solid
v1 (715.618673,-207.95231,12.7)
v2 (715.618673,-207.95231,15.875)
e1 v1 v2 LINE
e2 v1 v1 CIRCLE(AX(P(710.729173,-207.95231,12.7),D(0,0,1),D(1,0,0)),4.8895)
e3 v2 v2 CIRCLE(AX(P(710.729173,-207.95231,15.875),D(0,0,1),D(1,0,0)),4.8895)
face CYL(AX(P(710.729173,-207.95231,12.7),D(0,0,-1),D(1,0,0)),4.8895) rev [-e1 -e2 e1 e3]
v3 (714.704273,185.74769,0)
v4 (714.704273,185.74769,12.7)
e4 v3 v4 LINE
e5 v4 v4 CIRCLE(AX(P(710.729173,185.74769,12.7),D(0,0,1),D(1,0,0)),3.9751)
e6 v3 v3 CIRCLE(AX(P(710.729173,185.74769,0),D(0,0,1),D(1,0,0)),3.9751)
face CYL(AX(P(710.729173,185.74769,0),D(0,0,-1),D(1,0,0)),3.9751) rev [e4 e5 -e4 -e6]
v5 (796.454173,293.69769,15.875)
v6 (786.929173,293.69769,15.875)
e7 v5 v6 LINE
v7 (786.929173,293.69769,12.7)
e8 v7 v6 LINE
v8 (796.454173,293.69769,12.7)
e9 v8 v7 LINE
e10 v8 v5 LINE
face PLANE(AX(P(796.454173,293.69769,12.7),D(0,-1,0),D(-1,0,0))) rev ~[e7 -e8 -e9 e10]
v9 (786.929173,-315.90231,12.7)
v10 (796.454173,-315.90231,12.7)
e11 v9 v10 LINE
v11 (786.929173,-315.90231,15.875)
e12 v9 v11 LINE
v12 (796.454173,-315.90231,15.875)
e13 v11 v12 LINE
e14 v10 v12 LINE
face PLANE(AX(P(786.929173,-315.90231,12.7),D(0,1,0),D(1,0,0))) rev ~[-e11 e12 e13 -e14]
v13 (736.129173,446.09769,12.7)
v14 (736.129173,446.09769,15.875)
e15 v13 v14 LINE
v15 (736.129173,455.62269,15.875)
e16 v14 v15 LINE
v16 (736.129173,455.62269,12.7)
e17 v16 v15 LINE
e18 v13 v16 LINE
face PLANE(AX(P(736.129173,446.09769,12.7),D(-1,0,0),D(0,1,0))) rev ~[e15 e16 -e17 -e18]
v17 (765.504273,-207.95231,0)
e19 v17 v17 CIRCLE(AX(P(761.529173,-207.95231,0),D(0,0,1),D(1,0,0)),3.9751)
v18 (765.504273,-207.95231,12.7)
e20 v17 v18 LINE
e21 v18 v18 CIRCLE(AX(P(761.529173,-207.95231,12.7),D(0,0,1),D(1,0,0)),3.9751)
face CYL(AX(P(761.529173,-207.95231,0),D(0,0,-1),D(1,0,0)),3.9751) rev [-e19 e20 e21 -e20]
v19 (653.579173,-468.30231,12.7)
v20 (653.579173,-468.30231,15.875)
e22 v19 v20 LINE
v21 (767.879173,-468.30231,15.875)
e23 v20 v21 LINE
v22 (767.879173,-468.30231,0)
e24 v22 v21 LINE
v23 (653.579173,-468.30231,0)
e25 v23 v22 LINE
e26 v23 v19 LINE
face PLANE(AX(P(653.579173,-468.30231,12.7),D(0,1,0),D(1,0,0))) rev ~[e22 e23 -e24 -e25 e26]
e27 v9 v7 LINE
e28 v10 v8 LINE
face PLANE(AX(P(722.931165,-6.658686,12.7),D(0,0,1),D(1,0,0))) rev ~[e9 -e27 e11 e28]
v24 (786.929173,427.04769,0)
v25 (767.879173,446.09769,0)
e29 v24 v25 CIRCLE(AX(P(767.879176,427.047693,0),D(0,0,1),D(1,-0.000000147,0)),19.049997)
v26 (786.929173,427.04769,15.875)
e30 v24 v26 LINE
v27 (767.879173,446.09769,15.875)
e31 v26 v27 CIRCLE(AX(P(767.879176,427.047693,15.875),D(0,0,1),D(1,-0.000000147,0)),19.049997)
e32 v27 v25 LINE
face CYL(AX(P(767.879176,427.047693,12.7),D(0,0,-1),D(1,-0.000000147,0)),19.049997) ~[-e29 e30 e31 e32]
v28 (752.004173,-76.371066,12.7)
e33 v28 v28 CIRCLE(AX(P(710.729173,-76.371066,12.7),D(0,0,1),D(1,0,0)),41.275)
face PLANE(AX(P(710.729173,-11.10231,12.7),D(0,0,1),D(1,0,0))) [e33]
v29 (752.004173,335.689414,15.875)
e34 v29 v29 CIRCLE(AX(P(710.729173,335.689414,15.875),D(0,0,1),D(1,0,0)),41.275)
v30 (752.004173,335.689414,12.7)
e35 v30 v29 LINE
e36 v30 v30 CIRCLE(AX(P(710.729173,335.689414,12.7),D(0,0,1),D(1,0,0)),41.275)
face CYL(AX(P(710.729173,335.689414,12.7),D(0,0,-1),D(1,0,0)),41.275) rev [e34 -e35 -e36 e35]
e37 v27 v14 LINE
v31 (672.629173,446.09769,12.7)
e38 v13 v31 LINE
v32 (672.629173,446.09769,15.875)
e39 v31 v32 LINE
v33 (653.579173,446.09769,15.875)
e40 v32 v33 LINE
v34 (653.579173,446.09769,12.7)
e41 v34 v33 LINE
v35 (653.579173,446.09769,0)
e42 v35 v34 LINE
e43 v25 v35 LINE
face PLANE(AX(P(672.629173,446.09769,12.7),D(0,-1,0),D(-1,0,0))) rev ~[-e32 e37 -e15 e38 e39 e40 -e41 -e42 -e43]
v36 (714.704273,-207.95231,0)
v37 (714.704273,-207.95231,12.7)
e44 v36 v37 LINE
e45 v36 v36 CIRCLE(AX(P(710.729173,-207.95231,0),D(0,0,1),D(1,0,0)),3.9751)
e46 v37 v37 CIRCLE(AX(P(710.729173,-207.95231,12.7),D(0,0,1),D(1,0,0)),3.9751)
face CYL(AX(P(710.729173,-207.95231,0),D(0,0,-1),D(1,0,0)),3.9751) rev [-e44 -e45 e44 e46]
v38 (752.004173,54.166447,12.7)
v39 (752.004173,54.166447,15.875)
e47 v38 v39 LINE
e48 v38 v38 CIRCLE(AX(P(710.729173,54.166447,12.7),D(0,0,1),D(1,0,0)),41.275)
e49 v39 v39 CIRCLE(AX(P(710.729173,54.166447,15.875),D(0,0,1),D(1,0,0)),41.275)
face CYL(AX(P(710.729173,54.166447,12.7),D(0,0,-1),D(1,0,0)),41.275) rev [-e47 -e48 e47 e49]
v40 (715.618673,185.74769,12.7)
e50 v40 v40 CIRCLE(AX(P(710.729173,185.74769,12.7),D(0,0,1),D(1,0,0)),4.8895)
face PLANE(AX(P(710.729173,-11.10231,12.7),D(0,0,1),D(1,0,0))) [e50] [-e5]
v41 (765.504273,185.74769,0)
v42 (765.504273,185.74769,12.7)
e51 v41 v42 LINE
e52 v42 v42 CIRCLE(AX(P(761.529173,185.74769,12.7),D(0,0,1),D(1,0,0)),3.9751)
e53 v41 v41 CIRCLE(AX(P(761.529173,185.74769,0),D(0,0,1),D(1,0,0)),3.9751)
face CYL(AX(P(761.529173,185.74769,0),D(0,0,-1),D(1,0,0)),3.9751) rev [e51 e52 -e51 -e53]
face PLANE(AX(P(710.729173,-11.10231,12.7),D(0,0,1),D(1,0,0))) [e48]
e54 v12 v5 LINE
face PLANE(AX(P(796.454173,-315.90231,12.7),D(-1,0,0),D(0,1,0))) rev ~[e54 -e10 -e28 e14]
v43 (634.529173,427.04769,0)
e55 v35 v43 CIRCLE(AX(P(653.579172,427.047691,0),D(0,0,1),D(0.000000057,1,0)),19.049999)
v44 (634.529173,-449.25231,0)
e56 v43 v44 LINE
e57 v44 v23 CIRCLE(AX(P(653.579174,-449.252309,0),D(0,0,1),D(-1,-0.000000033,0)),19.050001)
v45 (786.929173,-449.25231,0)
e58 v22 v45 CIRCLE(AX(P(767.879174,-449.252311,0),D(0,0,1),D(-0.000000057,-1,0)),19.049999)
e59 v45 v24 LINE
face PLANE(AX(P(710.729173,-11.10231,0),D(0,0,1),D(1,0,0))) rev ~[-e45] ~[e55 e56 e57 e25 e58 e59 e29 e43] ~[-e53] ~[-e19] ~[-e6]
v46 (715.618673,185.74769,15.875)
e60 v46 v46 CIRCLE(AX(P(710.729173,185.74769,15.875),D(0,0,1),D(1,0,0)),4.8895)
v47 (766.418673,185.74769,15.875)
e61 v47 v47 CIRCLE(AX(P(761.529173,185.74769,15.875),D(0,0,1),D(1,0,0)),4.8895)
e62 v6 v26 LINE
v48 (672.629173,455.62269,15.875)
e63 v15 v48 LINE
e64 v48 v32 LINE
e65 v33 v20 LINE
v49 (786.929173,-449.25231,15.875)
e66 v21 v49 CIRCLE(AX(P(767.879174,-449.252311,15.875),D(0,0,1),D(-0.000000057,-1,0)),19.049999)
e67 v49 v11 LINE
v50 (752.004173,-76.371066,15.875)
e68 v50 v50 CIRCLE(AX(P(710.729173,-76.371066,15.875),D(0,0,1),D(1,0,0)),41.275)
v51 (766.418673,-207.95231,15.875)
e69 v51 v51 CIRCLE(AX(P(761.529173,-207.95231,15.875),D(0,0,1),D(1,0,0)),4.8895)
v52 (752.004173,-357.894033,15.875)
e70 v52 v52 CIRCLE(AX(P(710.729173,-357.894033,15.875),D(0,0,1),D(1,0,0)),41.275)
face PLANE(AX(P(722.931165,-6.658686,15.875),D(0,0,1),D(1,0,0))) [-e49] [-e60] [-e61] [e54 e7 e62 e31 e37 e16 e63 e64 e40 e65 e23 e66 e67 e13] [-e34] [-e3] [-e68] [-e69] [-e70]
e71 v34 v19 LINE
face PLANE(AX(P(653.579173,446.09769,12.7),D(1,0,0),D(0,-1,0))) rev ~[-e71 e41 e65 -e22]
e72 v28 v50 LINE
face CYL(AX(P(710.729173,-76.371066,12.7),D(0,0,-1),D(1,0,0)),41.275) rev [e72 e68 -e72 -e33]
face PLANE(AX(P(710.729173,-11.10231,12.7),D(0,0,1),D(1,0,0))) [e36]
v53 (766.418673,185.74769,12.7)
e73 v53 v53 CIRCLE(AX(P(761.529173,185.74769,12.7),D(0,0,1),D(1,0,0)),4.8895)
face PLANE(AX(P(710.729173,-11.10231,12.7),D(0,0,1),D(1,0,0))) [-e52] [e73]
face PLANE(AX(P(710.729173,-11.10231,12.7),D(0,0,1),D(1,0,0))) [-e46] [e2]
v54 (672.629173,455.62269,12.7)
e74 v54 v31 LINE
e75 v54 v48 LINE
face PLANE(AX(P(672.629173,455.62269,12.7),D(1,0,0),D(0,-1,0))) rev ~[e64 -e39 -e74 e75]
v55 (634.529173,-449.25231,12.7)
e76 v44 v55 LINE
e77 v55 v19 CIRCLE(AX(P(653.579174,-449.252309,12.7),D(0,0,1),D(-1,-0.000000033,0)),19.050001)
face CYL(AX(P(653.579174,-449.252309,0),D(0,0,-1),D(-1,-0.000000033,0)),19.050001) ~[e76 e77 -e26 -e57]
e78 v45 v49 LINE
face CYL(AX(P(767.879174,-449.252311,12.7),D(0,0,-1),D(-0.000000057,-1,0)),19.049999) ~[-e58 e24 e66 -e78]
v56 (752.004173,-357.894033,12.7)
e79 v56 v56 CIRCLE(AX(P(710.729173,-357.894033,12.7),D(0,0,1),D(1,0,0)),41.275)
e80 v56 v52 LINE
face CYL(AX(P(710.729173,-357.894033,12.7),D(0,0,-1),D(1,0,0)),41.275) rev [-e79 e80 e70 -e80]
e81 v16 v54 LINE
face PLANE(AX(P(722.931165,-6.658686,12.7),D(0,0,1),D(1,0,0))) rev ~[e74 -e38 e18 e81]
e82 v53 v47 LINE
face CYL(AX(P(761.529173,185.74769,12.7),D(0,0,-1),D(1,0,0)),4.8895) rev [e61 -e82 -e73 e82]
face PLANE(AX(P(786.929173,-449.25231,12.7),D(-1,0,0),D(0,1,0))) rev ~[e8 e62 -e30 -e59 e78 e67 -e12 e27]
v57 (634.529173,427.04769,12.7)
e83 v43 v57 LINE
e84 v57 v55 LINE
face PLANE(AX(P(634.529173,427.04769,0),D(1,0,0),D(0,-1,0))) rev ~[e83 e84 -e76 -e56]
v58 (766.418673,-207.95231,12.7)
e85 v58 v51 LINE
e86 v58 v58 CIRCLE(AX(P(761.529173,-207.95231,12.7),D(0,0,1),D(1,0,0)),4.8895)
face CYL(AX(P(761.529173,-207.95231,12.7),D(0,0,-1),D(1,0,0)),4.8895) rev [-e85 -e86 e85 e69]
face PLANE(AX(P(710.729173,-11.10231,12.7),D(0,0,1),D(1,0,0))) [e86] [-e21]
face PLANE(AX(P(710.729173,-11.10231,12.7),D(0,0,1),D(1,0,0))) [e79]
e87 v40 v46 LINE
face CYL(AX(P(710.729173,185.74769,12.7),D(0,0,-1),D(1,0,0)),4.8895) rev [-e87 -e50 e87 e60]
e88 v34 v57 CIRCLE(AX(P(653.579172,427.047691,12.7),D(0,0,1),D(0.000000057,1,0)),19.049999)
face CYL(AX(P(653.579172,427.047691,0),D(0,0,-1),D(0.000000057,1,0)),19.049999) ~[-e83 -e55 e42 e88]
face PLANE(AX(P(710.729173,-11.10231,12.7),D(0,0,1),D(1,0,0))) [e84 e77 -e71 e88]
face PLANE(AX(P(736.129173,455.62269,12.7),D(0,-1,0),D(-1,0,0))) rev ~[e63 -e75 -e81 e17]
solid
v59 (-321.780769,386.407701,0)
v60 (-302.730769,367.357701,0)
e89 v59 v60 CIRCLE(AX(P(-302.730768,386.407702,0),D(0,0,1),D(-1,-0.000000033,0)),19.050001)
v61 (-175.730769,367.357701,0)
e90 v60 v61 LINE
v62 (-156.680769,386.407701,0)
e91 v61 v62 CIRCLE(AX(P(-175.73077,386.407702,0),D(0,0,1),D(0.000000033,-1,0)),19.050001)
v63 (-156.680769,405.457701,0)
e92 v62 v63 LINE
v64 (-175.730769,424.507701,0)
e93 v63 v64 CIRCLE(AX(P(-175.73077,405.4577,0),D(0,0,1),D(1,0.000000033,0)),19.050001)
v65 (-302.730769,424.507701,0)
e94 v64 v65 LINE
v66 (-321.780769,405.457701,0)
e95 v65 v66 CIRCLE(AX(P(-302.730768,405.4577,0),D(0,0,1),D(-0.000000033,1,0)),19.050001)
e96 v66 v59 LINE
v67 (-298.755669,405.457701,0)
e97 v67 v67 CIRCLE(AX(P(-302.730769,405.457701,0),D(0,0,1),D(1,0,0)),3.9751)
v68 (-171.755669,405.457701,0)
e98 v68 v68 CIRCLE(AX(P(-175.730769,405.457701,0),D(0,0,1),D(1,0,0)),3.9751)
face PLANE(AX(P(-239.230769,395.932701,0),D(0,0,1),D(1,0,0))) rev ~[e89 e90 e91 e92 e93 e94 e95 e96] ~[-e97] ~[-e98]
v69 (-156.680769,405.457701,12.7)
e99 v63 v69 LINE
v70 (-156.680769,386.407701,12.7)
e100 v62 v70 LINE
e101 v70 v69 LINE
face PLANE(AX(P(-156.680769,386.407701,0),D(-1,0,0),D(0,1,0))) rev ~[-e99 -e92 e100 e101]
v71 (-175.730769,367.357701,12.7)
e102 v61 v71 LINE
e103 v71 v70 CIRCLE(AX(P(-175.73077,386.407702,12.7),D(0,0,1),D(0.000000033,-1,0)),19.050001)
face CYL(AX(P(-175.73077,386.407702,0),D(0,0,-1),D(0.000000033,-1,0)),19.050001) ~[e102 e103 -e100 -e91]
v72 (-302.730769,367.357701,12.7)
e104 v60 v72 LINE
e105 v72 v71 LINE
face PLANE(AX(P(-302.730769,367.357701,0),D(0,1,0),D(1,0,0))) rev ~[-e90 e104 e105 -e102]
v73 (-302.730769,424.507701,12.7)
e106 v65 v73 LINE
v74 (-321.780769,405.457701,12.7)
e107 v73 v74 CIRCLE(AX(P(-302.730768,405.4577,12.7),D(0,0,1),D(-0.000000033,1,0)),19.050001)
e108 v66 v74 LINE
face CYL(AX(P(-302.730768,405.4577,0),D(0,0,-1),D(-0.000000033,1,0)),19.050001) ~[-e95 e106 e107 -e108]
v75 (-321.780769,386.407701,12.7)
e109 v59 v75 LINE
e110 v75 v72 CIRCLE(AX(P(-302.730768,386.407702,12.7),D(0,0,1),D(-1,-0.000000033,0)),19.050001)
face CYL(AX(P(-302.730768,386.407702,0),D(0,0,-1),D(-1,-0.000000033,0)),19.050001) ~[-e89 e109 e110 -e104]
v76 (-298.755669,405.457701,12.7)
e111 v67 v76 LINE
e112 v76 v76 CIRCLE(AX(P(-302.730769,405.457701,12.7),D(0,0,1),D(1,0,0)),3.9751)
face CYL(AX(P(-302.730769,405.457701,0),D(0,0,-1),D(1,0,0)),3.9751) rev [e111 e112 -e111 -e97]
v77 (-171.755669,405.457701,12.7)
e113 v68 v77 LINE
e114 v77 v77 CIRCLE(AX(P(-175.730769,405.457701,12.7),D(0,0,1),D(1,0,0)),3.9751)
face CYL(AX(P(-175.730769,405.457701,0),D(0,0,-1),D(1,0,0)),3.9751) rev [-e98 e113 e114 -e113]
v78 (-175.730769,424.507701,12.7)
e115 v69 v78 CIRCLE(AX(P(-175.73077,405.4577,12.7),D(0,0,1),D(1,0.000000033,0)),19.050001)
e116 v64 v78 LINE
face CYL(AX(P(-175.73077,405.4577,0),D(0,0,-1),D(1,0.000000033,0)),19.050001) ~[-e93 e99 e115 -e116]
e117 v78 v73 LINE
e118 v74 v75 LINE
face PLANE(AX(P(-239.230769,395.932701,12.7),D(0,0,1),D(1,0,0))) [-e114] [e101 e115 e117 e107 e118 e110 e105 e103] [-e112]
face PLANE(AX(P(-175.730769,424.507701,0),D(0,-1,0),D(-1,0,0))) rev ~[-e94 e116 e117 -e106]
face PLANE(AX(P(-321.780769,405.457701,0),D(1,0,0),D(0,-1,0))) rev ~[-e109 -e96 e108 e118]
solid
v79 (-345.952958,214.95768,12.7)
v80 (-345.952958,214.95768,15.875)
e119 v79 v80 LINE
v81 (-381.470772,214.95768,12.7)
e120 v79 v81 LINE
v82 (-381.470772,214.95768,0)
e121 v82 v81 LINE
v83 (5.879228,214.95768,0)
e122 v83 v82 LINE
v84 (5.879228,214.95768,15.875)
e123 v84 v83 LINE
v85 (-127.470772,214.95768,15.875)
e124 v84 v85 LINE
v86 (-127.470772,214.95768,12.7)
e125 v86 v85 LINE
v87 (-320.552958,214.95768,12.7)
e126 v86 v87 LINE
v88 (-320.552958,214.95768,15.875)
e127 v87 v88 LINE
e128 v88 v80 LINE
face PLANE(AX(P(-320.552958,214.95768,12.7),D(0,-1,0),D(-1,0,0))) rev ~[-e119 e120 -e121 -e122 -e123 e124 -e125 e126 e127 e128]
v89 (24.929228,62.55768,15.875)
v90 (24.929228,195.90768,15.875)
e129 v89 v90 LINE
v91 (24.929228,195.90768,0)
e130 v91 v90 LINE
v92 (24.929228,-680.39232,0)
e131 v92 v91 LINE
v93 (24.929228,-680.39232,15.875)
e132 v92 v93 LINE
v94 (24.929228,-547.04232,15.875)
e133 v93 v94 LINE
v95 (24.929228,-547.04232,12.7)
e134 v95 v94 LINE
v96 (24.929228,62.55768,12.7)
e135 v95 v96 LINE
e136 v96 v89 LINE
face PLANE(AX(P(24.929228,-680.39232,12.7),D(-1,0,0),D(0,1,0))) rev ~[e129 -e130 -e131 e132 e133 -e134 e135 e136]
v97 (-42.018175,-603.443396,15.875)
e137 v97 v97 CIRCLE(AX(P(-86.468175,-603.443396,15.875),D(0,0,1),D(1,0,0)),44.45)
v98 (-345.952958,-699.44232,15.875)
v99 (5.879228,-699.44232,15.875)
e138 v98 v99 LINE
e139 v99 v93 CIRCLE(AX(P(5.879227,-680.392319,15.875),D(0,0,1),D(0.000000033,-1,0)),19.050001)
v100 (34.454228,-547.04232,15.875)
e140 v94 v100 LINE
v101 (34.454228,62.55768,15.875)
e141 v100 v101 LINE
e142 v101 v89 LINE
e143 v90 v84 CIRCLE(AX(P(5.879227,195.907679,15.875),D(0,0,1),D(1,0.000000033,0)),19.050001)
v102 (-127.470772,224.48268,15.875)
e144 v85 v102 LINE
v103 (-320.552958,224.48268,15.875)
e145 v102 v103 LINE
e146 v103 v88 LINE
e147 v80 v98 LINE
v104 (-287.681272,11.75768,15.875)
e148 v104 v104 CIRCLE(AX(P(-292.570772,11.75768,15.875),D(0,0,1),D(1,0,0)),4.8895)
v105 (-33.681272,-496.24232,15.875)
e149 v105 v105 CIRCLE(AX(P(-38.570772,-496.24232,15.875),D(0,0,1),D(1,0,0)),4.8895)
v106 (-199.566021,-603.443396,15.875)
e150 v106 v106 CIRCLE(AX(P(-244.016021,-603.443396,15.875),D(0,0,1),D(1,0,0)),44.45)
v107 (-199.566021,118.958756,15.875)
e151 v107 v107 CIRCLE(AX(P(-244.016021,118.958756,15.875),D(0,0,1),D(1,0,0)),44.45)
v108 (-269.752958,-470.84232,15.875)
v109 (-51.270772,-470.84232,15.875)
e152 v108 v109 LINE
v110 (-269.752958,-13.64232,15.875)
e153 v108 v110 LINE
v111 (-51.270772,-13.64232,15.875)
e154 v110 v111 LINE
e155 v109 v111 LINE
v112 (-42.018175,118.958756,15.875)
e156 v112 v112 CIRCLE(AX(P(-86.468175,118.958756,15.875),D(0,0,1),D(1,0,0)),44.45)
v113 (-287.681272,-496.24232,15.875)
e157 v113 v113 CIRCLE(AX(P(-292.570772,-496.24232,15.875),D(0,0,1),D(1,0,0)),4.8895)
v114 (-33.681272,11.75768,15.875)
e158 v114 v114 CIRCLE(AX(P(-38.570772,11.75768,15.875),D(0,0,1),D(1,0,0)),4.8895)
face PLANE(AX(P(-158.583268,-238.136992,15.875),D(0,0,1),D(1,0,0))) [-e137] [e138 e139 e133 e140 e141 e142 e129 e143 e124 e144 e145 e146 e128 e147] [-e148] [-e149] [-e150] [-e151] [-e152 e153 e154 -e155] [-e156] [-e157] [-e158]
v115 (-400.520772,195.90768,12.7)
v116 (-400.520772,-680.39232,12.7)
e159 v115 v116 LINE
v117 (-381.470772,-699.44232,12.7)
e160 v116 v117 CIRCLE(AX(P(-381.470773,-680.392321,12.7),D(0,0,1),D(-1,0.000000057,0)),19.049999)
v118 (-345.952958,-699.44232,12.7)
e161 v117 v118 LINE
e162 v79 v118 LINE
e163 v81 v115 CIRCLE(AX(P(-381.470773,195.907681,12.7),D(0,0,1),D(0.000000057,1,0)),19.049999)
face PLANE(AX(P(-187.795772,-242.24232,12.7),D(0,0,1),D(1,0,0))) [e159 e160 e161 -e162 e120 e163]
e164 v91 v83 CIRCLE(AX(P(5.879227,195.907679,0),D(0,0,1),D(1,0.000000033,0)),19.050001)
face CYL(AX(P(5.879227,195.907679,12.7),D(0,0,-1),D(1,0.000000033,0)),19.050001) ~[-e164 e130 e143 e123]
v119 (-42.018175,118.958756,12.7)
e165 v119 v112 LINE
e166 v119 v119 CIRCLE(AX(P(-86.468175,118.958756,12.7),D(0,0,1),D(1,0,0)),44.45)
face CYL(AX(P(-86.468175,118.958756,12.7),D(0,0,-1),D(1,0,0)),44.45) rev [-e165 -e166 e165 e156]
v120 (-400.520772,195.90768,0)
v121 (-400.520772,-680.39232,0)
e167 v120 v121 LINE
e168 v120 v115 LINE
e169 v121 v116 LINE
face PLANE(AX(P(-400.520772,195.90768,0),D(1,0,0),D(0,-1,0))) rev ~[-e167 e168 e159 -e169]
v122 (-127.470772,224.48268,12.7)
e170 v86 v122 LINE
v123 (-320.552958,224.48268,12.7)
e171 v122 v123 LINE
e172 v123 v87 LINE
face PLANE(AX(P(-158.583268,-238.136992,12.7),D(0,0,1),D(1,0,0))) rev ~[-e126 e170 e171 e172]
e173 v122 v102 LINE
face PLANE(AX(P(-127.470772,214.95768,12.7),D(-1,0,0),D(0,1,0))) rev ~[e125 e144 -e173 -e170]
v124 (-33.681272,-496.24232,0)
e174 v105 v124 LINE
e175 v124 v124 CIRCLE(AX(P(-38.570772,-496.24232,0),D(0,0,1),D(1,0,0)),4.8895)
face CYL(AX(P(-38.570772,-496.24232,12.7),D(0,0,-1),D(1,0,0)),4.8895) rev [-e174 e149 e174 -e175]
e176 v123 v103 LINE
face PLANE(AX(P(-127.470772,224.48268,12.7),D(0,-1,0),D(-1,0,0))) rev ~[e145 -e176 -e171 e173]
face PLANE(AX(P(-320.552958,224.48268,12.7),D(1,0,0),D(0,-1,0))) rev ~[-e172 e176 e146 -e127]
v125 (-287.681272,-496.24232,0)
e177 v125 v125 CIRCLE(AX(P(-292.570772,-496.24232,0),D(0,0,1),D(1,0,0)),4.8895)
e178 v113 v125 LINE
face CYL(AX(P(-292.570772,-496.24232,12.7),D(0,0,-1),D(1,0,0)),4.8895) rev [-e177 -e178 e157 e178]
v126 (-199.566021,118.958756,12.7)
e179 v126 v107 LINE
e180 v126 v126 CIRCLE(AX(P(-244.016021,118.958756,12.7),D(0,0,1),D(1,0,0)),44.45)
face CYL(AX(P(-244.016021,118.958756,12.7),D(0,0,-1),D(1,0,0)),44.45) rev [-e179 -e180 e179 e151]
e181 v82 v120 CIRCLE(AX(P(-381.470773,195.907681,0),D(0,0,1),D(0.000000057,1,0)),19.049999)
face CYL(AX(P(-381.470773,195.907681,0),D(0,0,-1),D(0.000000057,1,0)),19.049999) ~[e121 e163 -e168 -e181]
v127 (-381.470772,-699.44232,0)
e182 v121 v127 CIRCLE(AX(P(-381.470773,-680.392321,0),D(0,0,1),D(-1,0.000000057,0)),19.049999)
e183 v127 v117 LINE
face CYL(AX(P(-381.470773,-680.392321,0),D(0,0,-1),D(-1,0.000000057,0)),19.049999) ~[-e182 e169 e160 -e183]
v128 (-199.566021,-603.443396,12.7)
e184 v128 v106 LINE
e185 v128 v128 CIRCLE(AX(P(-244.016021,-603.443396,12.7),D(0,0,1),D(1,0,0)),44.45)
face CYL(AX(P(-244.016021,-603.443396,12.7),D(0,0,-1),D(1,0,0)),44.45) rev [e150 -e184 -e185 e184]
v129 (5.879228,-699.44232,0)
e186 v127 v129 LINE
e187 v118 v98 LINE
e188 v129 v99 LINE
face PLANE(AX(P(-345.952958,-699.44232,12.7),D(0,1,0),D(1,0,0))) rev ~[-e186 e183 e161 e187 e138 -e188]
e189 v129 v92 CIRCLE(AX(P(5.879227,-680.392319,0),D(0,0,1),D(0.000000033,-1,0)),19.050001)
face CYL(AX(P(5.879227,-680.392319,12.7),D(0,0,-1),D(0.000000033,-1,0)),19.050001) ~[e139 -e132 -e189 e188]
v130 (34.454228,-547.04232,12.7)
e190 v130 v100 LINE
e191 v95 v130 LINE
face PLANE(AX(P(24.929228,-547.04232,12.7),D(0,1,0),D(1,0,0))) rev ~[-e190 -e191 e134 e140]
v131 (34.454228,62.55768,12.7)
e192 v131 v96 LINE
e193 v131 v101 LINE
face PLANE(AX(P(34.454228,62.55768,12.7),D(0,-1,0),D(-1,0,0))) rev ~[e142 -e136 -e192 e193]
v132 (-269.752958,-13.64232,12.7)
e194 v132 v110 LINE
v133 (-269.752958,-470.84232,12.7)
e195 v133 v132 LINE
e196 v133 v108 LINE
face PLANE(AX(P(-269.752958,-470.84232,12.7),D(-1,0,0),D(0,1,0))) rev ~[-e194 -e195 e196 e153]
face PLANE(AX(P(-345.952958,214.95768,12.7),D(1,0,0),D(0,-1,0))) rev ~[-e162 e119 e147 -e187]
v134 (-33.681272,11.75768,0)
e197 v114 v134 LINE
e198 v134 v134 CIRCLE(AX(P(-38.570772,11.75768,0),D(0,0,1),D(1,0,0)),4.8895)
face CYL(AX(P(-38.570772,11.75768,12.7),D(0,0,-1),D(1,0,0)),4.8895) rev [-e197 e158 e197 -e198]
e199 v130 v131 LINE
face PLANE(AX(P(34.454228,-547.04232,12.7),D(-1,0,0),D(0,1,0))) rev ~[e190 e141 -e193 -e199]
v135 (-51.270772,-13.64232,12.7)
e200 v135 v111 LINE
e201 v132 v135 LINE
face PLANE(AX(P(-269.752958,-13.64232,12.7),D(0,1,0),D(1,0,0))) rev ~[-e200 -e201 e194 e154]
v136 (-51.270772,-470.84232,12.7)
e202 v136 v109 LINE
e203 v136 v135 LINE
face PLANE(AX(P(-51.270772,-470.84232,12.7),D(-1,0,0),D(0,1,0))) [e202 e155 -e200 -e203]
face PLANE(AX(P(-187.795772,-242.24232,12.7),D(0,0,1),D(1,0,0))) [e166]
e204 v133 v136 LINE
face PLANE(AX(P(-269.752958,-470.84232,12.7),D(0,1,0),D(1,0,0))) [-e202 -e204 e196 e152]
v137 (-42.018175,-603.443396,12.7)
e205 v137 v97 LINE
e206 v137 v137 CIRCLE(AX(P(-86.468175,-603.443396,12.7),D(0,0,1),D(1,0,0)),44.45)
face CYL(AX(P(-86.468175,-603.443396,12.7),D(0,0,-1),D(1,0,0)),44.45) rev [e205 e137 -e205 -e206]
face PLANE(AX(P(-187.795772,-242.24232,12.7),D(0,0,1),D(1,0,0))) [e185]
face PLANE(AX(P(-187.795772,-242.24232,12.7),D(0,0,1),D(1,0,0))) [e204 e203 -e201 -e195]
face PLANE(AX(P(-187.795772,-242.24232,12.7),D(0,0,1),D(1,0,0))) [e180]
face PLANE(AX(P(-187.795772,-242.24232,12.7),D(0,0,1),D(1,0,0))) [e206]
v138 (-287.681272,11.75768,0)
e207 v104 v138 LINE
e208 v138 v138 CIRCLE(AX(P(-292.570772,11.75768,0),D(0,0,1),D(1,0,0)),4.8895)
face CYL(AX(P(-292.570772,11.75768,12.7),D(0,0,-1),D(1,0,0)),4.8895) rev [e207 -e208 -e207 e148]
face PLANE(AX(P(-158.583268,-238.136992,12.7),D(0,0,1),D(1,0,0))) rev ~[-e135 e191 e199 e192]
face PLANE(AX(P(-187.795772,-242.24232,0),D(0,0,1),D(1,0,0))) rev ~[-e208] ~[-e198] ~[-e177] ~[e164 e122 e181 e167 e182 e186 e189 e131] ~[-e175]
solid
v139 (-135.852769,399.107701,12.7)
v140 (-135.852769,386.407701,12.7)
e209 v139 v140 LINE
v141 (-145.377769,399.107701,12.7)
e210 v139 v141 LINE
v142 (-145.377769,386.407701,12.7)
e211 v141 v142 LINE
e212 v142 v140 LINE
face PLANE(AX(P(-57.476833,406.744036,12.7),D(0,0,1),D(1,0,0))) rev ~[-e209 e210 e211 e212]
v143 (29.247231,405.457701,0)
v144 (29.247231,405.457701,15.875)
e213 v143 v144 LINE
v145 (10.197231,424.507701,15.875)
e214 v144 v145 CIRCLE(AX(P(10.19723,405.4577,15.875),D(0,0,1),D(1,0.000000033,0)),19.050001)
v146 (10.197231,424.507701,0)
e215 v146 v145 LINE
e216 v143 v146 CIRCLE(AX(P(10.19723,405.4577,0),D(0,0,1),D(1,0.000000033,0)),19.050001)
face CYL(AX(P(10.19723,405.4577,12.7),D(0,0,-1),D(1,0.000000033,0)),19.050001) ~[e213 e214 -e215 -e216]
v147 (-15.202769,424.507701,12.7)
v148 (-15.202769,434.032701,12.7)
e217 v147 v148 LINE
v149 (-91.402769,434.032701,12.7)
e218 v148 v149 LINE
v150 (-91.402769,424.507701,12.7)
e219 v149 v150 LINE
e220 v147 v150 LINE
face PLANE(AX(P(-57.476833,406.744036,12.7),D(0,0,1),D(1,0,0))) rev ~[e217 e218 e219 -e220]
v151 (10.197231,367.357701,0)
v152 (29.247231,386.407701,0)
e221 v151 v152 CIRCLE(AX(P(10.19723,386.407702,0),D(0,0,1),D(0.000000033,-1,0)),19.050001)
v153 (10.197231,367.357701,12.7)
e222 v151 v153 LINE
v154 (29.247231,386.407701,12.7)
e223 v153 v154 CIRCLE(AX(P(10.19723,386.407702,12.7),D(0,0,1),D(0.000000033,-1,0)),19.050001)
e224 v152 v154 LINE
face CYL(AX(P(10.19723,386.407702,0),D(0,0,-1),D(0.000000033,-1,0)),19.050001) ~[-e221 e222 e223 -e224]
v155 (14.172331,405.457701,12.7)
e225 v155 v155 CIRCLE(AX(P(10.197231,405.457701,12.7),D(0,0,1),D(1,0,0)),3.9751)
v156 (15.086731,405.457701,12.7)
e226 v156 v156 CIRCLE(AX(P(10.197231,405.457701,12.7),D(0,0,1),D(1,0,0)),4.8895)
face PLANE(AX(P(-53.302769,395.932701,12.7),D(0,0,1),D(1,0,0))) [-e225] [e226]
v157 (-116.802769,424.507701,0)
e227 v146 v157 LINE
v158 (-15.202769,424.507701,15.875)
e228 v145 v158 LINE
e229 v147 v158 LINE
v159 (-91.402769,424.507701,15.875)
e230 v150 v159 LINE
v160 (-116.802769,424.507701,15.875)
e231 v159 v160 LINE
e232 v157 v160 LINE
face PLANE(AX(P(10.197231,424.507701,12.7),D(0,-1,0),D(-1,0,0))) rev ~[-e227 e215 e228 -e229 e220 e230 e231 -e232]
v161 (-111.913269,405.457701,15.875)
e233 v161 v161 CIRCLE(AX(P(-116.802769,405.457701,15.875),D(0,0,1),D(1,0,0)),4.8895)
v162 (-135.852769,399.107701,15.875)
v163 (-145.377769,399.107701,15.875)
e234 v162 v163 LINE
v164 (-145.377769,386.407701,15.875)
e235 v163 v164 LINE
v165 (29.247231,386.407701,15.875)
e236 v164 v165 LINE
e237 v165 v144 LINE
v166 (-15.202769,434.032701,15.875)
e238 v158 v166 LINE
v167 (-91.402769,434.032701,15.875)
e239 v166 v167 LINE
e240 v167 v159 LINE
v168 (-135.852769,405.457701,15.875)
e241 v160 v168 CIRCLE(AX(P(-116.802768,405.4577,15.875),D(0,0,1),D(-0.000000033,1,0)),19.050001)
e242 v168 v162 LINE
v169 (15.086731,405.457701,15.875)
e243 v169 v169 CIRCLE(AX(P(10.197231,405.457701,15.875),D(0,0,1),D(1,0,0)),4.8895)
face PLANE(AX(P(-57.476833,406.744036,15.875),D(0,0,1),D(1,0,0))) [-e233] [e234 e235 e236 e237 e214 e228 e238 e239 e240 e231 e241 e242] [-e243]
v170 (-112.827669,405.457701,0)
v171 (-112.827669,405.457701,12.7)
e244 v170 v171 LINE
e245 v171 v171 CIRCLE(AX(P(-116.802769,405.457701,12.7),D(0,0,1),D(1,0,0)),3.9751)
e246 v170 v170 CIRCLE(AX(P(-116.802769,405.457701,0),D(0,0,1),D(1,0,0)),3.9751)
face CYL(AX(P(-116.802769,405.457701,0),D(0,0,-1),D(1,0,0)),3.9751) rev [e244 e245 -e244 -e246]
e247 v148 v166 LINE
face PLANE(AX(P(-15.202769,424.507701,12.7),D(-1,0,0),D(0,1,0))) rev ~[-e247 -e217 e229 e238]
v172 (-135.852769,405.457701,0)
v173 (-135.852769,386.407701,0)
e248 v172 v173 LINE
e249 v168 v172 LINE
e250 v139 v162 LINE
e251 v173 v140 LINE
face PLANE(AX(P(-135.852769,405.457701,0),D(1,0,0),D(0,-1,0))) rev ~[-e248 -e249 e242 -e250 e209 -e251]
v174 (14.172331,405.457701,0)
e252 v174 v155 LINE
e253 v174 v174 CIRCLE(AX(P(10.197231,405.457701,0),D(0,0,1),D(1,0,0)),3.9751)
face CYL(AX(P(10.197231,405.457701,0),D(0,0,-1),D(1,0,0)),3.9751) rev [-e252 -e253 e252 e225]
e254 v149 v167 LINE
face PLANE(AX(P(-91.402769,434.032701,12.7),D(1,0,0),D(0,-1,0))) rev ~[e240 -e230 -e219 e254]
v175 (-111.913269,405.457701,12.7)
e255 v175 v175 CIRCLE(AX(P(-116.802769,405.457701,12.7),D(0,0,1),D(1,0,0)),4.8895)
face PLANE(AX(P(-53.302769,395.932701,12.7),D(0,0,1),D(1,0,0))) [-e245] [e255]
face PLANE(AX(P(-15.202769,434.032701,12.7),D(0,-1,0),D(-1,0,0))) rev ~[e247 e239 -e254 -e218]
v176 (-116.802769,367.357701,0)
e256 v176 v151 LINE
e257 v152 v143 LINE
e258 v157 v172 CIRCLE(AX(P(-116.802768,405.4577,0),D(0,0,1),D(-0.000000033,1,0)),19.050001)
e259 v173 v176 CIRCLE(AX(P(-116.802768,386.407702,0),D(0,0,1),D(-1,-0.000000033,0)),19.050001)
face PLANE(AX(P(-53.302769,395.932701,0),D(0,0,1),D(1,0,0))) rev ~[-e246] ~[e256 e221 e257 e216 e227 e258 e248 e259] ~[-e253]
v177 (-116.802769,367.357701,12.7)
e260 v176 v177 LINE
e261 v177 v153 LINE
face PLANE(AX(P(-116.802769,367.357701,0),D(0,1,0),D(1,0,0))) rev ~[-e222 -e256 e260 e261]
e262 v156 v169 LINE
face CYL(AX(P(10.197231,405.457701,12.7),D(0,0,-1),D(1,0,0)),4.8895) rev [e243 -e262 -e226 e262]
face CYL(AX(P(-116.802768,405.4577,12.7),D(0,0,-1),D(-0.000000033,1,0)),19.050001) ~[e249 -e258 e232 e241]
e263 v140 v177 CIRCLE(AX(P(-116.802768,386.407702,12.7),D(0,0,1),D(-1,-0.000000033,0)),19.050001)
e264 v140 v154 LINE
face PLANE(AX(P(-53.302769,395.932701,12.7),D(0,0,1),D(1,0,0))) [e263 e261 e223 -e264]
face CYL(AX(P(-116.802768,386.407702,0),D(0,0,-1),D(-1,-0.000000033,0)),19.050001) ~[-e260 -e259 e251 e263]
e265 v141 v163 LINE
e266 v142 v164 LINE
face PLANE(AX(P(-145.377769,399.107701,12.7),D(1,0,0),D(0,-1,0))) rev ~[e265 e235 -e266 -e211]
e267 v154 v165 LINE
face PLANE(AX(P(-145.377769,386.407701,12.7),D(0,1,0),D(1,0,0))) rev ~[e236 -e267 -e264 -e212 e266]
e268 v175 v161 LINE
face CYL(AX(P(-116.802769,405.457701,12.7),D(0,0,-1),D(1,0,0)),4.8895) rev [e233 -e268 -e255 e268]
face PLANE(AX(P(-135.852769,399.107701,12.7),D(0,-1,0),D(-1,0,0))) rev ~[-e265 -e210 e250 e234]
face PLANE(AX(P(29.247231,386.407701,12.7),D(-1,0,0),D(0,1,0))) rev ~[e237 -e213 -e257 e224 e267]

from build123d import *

# Parameters (mm, degrees)
F0_R     = 4.8895
F0_R_2   = 3.9751
F1_DEPTH = 12.7
F2_R     = 4.8895
F2_R_2   = 44.45
F2_W     = 218.482186
F2_H     = 457.2
F3_DEPTH = 3.175
F4_R     = 41.275
F4_R_2   = 4.8895
F5_DEPTH = 3.175
F6_R     = 4.8895
F7_DEPTH = 3.175


with BuildPart() as f1:
    # F0 (on Top) → F1 (new body)
    with BuildSketch(Plane.XY):
        with BuildLine():
            ThreePointArc((-400.520772, -680.39232), (-394.941157, -693.862704), (-381.470772, -699.44232))
            Line((-381.470772, -699.44232), (5.879228, -699.44232))
            ThreePointArc((5.879228, -699.44232), (19.349612, -693.862704), (24.929228, -680.39232))
            Line((24.929228, -680.39232), (24.929228, 195.90768))
            ThreePointArc((24.929228, 195.90768), (19.349612, 209.378064), (5.879228, 214.95768))
            Line((5.879228, 214.95768), (-381.470772, 214.95768))
            ThreePointArc((-381.470772, 214.95768), (-394.941157, 209.378064), (-400.520772, 195.90768))
            Line((-400.520772, 195.90768), (-400.520772, -680.39232))
        make_face()
        with Locations((-292.570772, -496.24232)):
            Circle(F0_R, mode=Mode.SUBTRACT)
        with Locations((-38.570772, -496.24232)):
            Circle(F0_R, mode=Mode.SUBTRACT)
        with Locations((-292.570772, 11.75768)):
            Circle(F0_R, mode=Mode.SUBTRACT)
        with Locations((-38.570772, 11.75768)):
            Circle(F0_R, mode=Mode.SUBTRACT)
        with BuildLine():
            ThreePointArc((634.529173, -449.25231), (640.108789, -462.722694), (653.579173, -468.30231))
            Line((653.579173, -468.30231), (767.879173, -468.30231))
            ThreePointArc((767.879173, -468.30231), (781.349558, -462.722694), (786.929173, -449.25231))
            Line((786.929173, -449.25231), (786.929173, 427.04769))
            ThreePointArc((786.929173, 427.04769), (781.349558, 440.518075), (767.879173, 446.09769))
            Line((767.879173, 446.09769), (653.579173, 446.09769))
            ThreePointArc((653.579173, 446.09769), (640.108789, 440.518075), (634.529173, 427.04769))
            Line((634.529173, 427.04769), (634.529173, -449.25231))
        make_face()
        with Locations((710.729173, -207.95231)):
            Circle(F0_R_2, mode=Mode.SUBTRACT)
        with Locations((761.529173, -207.95231)):
            Circle(F0_R_2, mode=Mode.SUBTRACT)
        with Locations((710.729173, 185.74769)):
            Circle(F0_R_2, mode=Mode.SUBTRACT)
        with Locations((761.529173, 185.74769)):
            Circle(F0_R_2, mode=Mode.SUBTRACT)
        with BuildLine():
            ThreePointArc((-321.780769, 386.407701), (-316.201153, 372.937317), (-302.730769, 367.357701))
            Line((-302.730769, 367.357701), (-175.730769, 367.357701))
            ThreePointArc((-175.730769, 367.357701), (-162.260385, 372.937317), (-156.680769, 386.407701))
            Line((-156.680769, 386.407701), (-156.680769, 405.457701))
            ThreePointArc((-156.680769, 405.457701), (-162.260385, 418.928085), (-175.730769, 424.507701))
            Line((-175.730769, 424.507701), (-302.730769, 424.507701))
            ThreePointArc((-302.730769, 424.507701), (-316.201153, 418.928085), (-321.780769, 405.457701))
            Line((-321.780769, 405.457701), (-321.780769, 386.407701))
        make_face()
        with Locations((-302.730769, 405.457701)):
            Circle(F0_R_2, mode=Mode.SUBTRACT)
        with Locations((-175.730769, 405.457701)):
            Circle(F0_R_2, mode=Mode.SUBTRACT)
        with BuildLine():
            Line((10.197231, 424.507701), (-116.802769, 424.507701))
            ThreePointArc((-116.802769, 424.507701), (-130.273153, 418.928085), (-135.852769, 405.457701))
            Line((-135.852769, 405.457701), (-135.852769, 386.407701))
            ThreePointArc((-135.852769, 386.407701), (-130.273153, 372.937317), (-116.802769, 367.357701))
            Line((-116.802769, 367.357701), (10.197231, 367.357701))
            ThreePointArc((10.197231, 367.357701), (23.667615, 372.937317), (29.247231, 386.407701))
            Line((29.247231, 386.407701), (29.247231, 405.457701))
            ThreePointArc((29.247231, 405.457701), (23.667615, 418.928085), (10.197231, 424.507701))
        make_face()
        with Locations((-116.802769, 405.457701)):
            Circle(F0_R_2, mode=Mode.SUBTRACT)
        with Locations((10.197231, 405.457701)):
            Circle(F0_R_2, mode=Mode.SUBTRACT)
    extrude(amount=F1_DEPTH)

    # F2 (on face) → F3 (join)
    with BuildSketch(Plane.XY.offset(12.7)):
        with BuildLine():
            Line((-345.952958, 214.95768), (-345.952958, -699.44232))
            Line((-345.952958, -699.44232), (5.879228, -699.44232))
            ThreePointArc((5.879228, -699.44232), (19.349612, -693.862704), (24.929228, -680.39232))
            Line((24.929228, -680.39232), (24.929228, -547.04232))
            Line((24.929228, -547.04232), (34.454228, -547.04232))
            Line((34.454228, -547.04232), (34.454228, 62.55768))
            Line((34.454228, 62.55768), (24.929228, 62.55768))
            Line((24.929228, 62.55768), (24.929228, 195.90768))
            ThreePointArc((24.929228, 195.90768), (19.349612, 209.378064), (5.879228, 214.95768))
            Line((5.879228, 214.95768), (-127.470772, 214.95768))
            Line((-127.470772, 214.95768), (-127.470772, 224.48268))
            Line((-127.470772, 224.48268), (-320.552958, 224.48268))
            Line((-320.552958, 224.48268), (-320.552958, 214.95768))
            Line((-320.552958, 214.95768), (-345.952958, 214.95768))
        make_face()
        with Locations((-292.570772, -496.24232)):
            Circle(F2_R, mode=Mode.SUBTRACT)
        with Locations((-244.016021, -603.443396)):
            Circle(F2_R_2, mode=Mode.SUBTRACT)
        with Locations((-160.511865, -242.24232)):
            Rectangle(F2_W, F2_H, mode=Mode.SUBTRACT)
        with Locations((-86.468175, -603.443396)):
            Circle(F2_R_2, mode=Mode.SUBTRACT)
        with Locations((-38.570772, -496.24232)):
            Circle(F2_R, mode=Mode.SUBTRACT)
        with Locations((-292.570772, 11.75768)):
            Circle(F2_R, mode=Mode.SUBTRACT)
        with Locations((-244.016021, 118.958756)):
            Circle(F2_R_2, mode=Mode.SUBTRACT)
        with Locations((-86.468175, 118.958756)):
            Circle(F2_R_2, mode=Mode.SUBTRACT)
        with Locations((-38.570772, 11.75768)):
            Circle(F2_R, mode=Mode.SUBTRACT)
    extrude(amount=F3_DEPTH)

    # F4 (on face) → F5 (join)
    with BuildSketch(Plane.XY.offset(12.7)):
        with BuildLine():
            Line((653.579173, 446.09769), (653.579173, -468.30231))
            Line((653.579173, -468.30231), (767.879173, -468.30231))
            ThreePointArc((767.879173, -468.30231), (781.349558, -462.722694), (786.929173, -449.25231))
            Line((786.929173, -449.25231), (786.929173, -315.90231))
            Line((786.929173, -315.90231), (796.454173, -315.90231))
            Line((796.454173, -315.90231), (796.454173, 293.69769))
            Line((796.454173, 293.69769), (786.929173, 293.69769))
            Line((786.929173, 293.69769), (786.929173, 427.04769))
            ThreePointArc((786.929173, 427.04769), (781.349558, 440.518075), (767.879173, 446.09769))
            Line((767.879173, 446.09769), (736.129173, 446.09769))
            Line((736.129173, 446.09769), (736.129173, 455.62269))
            Line((736.129173, 455.62269), (672.629173, 455.62269))
            Line((672.629173, 455.62269), (672.629173, 446.09769))
            Line((672.629173, 446.09769), (653.579173, 446.09769))
        make_face()
        with Locations((710.729173, -357.894033)):
            Circle(F4_R, mode=Mode.SUBTRACT)
        with Locations((710.729173, -207.95231)):
            Circle(F4_R_2, mode=Mode.SUBTRACT)
        with Locations((710.729173, -76.371066)):
            Circle(F4_R, mode=Mode.SUBTRACT)
        with Locations((761.529173, -207.95231)):
            Circle(F4_R_2, mode=Mode.SUBTRACT)
        with Locations((710.729173, 54.166447)):
            Circle(F4_R, mode=Mode.SUBTRACT)
        with Locations((710.729173, 185.74769)):
            Circle(F4_R_2, mode=Mode.SUBTRACT)
        with Locations((710.729173, 335.689414)):
            Circle(F4_R, mode=Mode.SUBTRACT)
        with Locations((761.529173, 185.74769)):
            Circle(F4_R_2, mode=Mode.SUBTRACT)
    extrude(amount=F5_DEPTH)

    # F6 (on face) → F7 (join)
    with BuildSketch(Plane.XY.offset(12.7)):
        with BuildLine():
            Line((-145.377769, 386.407701), (-135.852769, 386.407701))
            Line((-135.852769, 386.407701), (29.247231, 386.407701))
            Line((29.247231, 386.407701), (29.247231, 405.457701))
            ThreePointArc((29.247231, 405.457701), (23.667615, 418.928085), (10.197231, 424.507701))
            Line((10.197231, 424.507701), (-15.202769, 424.507701))
            Line((-15.202769, 424.507701), (-15.202769, 434.032701))
            Line((-15.202769, 434.032701), (-91.402769, 434.032701))
            Line((-91.402769, 434.032701), (-91.402769, 424.507701))
            Line((-91.402769, 424.507701), (-116.802769, 424.507701))
            ThreePointArc((-116.802769, 424.507701), (-130.273153, 418.928085), (-135.852769, 405.457701))
            Line((-135.852769, 405.457701), (-135.852769, 399.107701))
            Line((-135.852769, 399.107701), (-145.377769, 399.107701))
            Line((-145.377769, 399.107701), (-145.377769, 386.407701))
        make_face()
        with Locations((-116.802769, 405.457701)):
            Circle(F6_R, mode=Mode.SUBTRACT)
        with Locations((10.197231, 405.457701)):
            Circle(F6_R, mode=Mode.SUBTRACT)
    extrude(amount=F7_DEPTH)


solid = f1.part
